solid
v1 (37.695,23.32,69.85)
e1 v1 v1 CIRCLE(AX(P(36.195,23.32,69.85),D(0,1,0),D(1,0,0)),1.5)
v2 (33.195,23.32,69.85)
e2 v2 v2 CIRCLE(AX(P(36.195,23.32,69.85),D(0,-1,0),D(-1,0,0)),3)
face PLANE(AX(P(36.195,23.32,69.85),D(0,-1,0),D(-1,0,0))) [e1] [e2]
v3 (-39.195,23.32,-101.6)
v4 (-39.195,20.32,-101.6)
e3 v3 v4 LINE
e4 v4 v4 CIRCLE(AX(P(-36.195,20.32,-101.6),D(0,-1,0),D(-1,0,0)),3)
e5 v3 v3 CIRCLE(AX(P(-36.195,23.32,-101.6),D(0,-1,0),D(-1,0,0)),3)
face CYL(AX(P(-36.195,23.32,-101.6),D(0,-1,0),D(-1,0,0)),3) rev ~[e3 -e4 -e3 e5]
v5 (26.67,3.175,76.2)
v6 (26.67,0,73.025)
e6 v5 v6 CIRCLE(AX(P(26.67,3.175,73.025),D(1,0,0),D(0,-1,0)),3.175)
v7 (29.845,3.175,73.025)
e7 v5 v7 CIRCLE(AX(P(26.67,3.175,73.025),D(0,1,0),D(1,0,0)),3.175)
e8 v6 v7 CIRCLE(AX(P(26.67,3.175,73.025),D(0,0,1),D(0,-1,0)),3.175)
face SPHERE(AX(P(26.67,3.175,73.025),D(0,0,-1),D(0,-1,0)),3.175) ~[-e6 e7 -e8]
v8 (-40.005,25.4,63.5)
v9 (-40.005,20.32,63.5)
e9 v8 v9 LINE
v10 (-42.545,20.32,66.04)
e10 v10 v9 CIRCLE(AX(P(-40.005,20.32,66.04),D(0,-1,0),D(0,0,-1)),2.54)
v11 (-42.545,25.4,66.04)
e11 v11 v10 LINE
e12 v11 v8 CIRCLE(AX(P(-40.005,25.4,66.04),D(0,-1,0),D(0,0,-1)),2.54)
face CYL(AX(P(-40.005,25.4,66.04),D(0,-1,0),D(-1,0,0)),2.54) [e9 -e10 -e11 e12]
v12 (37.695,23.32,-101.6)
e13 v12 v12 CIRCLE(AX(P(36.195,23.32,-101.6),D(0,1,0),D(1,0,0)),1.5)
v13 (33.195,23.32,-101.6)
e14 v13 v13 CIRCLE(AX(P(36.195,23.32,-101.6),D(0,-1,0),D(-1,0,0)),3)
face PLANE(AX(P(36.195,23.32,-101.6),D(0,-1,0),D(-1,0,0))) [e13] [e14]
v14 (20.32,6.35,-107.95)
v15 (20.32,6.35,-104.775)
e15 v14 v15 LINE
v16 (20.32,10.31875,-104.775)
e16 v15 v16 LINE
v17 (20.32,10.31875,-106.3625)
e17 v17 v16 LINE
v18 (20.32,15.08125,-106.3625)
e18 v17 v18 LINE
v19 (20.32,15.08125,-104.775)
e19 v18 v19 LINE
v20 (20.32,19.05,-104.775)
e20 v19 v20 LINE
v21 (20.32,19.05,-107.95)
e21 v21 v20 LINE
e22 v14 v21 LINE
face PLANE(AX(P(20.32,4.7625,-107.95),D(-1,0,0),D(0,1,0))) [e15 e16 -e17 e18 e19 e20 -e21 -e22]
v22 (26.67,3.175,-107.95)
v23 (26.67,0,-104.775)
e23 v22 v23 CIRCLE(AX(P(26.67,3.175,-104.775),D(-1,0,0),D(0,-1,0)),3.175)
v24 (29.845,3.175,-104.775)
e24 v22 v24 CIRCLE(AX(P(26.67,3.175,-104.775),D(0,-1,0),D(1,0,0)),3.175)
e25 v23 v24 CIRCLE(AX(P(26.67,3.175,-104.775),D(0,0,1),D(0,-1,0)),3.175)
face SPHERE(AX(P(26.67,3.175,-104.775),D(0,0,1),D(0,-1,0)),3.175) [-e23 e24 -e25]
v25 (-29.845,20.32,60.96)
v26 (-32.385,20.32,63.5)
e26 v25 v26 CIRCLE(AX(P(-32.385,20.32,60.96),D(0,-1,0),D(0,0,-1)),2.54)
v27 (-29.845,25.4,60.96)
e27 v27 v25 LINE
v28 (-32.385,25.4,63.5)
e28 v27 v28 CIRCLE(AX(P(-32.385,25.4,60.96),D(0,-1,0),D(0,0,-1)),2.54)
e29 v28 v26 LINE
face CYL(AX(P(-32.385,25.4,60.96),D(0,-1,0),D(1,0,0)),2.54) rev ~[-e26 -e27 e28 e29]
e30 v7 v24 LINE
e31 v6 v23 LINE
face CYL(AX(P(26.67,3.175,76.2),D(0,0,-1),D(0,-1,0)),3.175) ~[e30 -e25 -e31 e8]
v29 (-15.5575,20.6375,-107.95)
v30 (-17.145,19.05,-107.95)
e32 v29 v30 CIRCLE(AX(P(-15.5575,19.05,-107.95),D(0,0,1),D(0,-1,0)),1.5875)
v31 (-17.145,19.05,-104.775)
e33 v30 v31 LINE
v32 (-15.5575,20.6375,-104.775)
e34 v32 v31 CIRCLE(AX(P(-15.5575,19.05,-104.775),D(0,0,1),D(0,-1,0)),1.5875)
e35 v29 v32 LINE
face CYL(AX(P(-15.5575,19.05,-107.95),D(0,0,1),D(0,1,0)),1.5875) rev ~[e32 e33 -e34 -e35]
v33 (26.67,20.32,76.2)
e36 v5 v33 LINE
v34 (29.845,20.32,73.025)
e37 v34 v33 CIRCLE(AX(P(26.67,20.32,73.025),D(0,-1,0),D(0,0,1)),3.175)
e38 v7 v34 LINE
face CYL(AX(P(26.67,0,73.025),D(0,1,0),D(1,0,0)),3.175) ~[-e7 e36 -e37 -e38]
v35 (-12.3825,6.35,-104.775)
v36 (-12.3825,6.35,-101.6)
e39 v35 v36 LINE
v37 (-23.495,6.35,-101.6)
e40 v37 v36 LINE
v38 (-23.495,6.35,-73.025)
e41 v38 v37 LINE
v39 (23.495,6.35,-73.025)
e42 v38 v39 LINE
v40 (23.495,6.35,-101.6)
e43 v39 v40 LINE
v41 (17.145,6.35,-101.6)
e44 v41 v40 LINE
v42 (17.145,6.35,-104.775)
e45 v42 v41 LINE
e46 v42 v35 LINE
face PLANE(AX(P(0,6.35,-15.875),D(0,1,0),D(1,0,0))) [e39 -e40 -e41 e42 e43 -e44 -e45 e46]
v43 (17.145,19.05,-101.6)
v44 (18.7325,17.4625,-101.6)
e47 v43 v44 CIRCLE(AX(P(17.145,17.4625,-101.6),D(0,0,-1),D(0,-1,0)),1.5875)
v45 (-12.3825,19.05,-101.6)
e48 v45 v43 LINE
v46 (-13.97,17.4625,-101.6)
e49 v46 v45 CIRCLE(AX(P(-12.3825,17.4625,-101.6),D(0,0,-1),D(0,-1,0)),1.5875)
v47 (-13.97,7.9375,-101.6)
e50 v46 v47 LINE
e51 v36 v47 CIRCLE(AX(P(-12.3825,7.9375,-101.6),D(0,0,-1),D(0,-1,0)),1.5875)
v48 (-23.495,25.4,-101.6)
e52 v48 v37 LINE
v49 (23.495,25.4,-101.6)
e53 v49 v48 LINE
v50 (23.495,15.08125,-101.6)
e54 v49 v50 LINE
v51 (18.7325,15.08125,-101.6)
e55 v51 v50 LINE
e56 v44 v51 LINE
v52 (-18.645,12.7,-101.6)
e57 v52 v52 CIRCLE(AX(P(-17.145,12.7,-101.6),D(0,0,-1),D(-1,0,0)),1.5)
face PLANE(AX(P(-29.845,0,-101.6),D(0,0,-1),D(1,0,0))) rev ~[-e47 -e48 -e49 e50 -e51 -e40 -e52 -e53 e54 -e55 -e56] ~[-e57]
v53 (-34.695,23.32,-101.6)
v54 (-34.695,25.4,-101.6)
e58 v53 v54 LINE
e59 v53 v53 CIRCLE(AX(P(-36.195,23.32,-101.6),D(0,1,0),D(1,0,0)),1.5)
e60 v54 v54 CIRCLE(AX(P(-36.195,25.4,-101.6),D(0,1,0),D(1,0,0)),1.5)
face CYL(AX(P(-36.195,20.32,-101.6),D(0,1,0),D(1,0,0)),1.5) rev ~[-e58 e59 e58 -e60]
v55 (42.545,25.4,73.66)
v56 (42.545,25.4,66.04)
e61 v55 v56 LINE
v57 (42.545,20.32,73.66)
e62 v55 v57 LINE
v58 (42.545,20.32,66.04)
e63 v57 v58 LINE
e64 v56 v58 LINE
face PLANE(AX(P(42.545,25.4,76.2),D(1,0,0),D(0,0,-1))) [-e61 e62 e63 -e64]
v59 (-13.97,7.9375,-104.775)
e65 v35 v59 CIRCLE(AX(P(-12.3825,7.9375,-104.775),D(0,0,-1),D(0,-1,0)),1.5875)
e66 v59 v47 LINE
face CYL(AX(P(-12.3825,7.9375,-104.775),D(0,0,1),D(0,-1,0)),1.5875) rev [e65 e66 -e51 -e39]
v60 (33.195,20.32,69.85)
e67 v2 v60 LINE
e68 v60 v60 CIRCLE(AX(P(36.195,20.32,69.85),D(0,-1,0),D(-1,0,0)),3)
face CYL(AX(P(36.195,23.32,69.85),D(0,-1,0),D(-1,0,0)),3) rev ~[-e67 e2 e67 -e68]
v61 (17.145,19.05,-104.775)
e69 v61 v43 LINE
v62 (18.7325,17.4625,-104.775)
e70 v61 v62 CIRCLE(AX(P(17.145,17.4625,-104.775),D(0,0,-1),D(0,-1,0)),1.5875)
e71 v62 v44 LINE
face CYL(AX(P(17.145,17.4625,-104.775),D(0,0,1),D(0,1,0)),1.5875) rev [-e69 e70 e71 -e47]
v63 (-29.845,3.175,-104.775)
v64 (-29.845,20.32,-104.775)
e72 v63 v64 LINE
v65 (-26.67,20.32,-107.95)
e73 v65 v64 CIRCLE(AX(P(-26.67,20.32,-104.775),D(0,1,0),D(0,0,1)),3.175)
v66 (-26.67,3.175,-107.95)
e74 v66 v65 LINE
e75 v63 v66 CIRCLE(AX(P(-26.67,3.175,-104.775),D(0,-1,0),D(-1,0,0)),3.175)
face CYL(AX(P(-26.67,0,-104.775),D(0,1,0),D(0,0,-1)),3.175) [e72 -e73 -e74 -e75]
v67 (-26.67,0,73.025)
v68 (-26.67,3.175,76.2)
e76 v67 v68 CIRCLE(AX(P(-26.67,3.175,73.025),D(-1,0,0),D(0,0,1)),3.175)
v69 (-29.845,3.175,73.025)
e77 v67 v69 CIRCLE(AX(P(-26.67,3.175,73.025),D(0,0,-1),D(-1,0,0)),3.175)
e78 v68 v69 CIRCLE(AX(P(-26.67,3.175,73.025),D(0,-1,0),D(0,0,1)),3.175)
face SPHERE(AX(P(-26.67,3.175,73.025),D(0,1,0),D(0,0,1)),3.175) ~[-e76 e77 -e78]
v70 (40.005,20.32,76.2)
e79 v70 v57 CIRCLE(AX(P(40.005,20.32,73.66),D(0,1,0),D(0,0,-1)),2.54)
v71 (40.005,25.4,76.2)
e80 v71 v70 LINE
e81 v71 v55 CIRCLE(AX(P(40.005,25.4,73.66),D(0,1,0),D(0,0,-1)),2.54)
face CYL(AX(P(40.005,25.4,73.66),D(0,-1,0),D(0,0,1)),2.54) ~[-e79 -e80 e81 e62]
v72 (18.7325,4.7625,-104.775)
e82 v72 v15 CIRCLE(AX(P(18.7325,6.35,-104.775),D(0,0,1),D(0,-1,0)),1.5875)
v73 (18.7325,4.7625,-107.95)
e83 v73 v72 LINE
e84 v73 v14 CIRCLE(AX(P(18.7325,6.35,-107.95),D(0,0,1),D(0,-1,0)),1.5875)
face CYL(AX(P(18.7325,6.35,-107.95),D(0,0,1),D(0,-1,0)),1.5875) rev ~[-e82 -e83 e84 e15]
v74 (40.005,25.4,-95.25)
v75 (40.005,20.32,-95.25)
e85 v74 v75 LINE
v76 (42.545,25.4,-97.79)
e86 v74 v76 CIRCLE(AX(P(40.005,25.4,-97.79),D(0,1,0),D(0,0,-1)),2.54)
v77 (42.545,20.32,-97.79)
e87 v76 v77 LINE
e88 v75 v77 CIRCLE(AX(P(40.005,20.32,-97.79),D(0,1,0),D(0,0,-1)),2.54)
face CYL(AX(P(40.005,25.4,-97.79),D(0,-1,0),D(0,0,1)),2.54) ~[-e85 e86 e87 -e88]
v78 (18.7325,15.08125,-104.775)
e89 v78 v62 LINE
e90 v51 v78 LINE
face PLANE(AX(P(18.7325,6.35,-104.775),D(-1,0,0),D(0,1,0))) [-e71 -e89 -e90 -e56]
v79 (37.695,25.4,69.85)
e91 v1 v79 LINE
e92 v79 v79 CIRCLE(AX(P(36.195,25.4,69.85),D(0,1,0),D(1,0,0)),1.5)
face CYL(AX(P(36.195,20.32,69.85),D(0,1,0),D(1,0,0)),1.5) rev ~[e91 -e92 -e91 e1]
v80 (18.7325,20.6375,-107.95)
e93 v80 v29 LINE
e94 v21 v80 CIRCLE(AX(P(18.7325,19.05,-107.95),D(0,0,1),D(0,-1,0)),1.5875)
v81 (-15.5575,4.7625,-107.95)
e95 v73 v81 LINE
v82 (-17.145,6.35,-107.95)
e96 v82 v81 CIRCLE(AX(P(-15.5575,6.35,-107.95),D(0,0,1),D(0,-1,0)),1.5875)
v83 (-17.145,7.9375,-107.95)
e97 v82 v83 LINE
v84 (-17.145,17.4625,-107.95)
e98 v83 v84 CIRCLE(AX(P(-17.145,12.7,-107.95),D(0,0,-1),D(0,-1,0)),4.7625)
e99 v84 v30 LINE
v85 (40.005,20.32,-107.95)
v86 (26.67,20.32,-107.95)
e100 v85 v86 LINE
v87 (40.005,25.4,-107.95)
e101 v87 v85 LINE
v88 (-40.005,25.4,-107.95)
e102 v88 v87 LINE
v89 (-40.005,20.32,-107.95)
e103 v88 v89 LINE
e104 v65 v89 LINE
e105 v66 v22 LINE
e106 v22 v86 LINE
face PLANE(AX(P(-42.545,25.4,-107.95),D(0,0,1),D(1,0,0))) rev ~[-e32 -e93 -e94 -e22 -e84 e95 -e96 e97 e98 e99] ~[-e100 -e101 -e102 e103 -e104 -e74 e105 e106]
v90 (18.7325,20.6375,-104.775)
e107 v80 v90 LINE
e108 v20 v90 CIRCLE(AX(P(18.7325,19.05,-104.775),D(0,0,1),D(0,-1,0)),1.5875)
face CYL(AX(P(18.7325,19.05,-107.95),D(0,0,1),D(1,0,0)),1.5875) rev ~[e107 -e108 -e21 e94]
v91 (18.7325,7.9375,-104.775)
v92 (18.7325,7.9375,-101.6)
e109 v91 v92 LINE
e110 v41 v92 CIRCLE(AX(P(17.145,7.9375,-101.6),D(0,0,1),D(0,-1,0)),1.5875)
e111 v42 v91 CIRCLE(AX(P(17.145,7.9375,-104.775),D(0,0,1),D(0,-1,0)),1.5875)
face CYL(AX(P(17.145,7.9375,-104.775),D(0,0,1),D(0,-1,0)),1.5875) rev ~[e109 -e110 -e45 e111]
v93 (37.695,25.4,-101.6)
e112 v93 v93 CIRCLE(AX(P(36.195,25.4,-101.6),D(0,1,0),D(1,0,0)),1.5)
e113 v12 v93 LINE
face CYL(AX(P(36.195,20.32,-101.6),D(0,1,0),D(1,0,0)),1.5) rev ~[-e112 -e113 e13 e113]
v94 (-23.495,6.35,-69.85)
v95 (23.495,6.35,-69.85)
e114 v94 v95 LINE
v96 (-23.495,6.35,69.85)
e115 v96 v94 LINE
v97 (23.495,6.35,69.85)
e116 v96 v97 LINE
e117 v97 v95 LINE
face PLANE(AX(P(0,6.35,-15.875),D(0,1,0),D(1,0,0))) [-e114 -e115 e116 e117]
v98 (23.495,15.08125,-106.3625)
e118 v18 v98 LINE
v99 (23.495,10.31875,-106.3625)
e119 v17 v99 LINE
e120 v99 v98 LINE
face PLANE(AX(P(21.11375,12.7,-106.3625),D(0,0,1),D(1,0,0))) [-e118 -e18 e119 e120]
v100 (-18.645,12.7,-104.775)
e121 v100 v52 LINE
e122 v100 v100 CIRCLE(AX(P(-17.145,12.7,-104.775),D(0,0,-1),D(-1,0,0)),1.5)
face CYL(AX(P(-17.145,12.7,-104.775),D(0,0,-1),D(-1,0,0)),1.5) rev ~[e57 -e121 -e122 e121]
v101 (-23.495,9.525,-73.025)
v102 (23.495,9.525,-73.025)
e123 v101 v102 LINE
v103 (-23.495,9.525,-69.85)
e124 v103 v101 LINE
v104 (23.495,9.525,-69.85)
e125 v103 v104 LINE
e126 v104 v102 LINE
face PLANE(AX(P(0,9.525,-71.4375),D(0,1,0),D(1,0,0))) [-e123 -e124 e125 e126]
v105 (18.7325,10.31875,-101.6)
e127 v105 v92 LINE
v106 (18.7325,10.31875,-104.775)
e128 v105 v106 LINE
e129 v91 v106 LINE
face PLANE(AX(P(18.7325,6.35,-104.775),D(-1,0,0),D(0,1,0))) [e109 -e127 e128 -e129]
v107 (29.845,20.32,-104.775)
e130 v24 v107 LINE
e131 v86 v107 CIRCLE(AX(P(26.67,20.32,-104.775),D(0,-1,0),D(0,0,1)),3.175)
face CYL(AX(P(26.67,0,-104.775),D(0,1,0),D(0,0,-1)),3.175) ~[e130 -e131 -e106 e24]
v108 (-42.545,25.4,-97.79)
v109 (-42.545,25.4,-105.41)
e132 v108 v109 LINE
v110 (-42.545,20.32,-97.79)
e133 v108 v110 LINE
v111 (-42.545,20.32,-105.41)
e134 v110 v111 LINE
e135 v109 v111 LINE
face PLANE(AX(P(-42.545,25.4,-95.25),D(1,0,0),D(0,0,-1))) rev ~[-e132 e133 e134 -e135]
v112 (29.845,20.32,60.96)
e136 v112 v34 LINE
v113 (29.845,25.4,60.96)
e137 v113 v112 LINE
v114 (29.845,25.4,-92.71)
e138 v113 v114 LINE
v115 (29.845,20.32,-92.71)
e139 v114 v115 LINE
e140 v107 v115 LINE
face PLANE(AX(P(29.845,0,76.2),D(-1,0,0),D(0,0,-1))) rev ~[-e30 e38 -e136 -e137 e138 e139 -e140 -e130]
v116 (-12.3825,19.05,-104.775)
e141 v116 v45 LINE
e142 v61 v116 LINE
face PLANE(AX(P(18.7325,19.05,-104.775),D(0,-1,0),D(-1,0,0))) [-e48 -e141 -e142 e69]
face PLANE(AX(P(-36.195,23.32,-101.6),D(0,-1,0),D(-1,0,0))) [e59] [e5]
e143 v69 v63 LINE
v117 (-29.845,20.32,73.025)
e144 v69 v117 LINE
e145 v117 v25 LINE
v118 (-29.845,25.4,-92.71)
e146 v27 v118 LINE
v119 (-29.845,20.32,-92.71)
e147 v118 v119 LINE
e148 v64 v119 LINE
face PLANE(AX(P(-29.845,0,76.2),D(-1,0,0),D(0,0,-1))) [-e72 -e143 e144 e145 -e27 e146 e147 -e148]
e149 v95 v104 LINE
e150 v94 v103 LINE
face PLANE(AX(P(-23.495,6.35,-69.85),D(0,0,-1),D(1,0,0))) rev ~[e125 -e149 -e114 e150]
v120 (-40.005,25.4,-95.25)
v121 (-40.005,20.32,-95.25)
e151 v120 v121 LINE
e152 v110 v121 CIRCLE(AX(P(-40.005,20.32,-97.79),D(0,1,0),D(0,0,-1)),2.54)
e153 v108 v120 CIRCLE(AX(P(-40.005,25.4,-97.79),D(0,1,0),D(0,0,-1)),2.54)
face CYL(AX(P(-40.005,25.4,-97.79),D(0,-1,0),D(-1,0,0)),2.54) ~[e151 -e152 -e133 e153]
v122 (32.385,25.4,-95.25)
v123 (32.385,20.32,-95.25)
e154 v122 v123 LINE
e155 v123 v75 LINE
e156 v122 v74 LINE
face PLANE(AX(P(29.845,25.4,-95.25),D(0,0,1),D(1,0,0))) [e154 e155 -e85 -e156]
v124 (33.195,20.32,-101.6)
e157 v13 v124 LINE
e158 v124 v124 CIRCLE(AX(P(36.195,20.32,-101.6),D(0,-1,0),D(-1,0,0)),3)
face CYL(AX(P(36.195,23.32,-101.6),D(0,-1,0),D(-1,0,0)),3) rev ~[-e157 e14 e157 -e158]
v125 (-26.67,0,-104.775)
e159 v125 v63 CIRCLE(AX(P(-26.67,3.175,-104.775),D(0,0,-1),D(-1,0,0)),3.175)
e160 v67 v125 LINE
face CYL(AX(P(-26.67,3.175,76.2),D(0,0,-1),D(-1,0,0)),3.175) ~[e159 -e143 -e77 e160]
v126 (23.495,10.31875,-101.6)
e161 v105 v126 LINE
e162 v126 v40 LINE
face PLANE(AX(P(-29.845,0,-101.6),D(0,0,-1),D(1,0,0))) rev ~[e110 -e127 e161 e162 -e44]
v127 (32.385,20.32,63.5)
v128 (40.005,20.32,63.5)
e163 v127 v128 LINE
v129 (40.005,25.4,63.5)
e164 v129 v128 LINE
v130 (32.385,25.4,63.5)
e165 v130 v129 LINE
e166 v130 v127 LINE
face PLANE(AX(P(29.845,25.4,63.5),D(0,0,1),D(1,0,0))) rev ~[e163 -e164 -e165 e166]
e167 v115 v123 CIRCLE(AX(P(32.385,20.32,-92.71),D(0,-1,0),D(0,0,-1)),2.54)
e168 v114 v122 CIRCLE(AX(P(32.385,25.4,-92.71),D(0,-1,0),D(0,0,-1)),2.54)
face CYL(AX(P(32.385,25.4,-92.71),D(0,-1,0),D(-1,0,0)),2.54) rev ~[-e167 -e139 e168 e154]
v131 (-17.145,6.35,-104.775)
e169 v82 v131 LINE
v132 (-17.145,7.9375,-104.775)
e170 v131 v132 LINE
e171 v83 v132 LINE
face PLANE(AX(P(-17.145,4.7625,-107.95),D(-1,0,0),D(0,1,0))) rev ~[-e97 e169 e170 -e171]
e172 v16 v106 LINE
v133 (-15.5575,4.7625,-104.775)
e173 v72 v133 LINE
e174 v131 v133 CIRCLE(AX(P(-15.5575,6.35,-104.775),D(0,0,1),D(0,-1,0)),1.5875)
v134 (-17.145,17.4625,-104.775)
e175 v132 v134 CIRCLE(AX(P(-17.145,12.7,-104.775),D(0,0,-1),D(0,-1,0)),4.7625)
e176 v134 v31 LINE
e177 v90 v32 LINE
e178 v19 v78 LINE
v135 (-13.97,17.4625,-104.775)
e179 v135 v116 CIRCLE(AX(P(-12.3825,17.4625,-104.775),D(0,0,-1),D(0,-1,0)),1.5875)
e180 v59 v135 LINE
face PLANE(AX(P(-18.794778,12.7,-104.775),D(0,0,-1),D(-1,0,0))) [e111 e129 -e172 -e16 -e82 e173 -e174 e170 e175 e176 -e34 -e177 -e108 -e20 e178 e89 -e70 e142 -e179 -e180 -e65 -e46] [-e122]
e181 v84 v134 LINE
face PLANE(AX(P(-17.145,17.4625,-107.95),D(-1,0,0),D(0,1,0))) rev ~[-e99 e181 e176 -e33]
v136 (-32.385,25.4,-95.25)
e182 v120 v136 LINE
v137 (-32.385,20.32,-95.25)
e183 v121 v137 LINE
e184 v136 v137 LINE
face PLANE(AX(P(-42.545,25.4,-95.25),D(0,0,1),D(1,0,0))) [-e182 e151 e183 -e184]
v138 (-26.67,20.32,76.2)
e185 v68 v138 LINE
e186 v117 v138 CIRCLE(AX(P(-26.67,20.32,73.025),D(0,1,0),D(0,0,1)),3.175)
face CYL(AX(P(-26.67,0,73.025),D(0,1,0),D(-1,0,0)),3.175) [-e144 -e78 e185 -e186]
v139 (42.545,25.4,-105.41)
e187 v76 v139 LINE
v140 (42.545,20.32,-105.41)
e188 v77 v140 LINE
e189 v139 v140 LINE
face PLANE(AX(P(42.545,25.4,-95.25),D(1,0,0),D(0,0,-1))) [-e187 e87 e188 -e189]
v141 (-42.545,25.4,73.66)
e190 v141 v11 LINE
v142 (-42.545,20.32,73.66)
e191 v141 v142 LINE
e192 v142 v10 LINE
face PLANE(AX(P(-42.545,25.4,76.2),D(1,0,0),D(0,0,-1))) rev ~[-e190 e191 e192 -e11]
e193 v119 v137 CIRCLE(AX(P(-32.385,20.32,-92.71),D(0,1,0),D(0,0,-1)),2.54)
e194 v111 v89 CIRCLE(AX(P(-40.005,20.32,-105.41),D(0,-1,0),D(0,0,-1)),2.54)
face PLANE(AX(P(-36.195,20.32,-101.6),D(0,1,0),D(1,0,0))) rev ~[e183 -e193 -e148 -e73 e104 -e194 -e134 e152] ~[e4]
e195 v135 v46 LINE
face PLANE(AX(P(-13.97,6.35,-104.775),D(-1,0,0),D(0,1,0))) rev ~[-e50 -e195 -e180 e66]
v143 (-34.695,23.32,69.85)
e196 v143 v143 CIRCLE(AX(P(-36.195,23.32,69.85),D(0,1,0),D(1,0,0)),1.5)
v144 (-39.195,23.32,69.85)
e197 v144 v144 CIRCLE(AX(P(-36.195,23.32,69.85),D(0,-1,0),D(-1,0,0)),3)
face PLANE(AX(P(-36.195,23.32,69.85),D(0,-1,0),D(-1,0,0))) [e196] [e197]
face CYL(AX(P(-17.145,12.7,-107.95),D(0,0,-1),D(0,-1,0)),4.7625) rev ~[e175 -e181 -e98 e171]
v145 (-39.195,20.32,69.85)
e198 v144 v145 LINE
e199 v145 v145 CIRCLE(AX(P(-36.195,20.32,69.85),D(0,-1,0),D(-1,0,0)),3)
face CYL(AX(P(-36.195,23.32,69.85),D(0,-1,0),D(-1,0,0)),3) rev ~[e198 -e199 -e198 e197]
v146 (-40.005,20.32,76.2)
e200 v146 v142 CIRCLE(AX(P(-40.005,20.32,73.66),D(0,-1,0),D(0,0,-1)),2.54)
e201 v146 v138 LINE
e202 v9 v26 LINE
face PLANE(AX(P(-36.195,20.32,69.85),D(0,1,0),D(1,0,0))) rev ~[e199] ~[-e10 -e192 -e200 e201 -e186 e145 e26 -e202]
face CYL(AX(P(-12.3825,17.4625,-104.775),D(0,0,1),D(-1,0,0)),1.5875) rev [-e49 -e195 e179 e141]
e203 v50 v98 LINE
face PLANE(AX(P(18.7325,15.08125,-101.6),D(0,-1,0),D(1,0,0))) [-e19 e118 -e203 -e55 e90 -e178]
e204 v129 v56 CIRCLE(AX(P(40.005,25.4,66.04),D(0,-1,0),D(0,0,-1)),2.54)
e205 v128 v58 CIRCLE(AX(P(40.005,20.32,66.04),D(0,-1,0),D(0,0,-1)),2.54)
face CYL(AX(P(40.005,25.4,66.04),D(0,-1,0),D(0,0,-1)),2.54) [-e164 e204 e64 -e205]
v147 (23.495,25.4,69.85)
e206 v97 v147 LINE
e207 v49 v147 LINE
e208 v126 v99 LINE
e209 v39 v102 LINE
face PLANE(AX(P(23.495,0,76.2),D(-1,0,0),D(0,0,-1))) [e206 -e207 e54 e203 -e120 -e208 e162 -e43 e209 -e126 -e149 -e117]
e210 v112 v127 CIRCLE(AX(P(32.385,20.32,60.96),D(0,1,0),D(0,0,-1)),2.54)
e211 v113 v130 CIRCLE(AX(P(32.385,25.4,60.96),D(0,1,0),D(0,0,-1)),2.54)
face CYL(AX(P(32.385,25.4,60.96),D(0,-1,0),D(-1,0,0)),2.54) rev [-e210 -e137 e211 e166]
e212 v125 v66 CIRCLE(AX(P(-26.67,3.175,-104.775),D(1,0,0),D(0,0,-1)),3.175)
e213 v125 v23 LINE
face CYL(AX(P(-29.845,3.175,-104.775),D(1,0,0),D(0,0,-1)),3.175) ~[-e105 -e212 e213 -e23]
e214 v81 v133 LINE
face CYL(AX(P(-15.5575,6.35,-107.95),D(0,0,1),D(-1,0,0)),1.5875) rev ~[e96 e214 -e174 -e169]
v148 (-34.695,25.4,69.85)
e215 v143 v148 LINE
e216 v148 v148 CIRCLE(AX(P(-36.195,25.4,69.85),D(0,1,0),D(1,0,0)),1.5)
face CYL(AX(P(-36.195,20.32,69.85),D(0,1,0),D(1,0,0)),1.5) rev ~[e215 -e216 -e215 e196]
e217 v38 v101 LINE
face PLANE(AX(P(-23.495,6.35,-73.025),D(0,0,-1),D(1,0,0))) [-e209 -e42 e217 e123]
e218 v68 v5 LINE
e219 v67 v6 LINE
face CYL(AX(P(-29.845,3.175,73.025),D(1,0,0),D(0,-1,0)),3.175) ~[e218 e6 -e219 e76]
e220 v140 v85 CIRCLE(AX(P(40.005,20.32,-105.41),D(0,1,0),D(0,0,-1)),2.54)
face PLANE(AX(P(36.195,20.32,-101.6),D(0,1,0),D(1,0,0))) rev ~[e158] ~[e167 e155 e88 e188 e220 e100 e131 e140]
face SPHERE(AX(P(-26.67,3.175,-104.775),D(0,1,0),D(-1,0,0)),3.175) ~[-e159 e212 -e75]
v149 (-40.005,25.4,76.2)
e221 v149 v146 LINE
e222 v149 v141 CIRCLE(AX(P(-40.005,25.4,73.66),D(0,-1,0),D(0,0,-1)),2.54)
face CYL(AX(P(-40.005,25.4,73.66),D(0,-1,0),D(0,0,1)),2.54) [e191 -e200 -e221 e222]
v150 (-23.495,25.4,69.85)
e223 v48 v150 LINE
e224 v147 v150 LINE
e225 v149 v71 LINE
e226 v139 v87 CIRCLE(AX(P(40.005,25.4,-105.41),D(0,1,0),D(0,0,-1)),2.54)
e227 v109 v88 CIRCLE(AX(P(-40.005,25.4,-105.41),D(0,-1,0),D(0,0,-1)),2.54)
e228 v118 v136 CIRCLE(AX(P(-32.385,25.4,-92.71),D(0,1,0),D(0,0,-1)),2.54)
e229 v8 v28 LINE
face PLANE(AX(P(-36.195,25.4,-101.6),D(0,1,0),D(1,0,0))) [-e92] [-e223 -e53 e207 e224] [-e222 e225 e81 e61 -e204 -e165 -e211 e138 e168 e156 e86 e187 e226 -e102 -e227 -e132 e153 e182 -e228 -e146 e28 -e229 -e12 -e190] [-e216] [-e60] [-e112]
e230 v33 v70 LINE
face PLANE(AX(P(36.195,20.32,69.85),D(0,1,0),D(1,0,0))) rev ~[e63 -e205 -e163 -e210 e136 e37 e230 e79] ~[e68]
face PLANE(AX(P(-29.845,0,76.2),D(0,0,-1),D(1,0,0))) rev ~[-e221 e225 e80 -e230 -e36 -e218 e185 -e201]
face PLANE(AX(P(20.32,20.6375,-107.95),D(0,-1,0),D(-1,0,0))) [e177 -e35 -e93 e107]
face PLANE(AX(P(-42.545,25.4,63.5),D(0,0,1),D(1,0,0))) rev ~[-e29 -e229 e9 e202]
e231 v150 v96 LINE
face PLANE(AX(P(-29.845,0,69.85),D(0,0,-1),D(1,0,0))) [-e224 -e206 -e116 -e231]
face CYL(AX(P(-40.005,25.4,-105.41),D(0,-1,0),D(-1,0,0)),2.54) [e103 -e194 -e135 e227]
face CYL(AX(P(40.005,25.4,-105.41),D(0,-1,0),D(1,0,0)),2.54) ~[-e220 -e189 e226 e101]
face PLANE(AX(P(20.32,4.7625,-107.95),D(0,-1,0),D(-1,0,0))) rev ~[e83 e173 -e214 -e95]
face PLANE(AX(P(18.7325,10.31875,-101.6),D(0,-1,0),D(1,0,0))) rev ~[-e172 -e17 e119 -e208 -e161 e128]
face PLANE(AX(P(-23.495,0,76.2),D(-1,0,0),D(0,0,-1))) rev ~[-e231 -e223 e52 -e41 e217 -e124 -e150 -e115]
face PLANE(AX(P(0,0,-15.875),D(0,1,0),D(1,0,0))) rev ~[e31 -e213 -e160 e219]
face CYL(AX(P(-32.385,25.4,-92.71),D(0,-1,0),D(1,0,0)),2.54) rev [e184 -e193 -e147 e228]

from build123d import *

# Parameters (mm, degrees)
SKETCH1_W                                           = 59.69
SKETCH1_H                                           = 184.15
BOSS_EXTRUDE1_DEPTH                                 = 25.4
SHELL1_T                                            = -6.35
SKETCH2_W                                           = 46.99
SKETCH2_H                                           = 3.175
BOSS_EXTRUDE2_DEPTH                                 = 3.175
SKETCH3_W                                           = 12.7
SKETCH3_H                                           = 12.7
BOSS_EXTRUDE3_DEPTH                                 = 5.08
FILLET1_R                                           = 2.54
CBORE_FOR_00_BINDING_HEAD_MACHINE_SCREW_D           = 3.000000096
CBORE_FOR_00_BINDING_HEAD_MACHINE_SCREW_CBORE_D     = 5.999999938
CBORE_FOR_00_BINDING_HEAD_MACHINE_SCREW_CBORE_DEPTH = 3.000000096
SKETCH8_W                                           = 37.465
SKETCH8_H                                           = 15.875
CUT_EXTRUDE1_DEPTH                                  = 3.175
CUT_EXTRUDE2_REACH                                  = 189.636
SKETCH9_R                                           = 1.5
SKETCH9_W                                           = 32.7025
SKETCH9_H                                           = 12.7
FILLET2_R                                           = 1.5875
SKETCH10_W                                          = 4.7625
SKETCH10_H                                          = 4.7625
CUT_EXTRUDE3_DEPTH                                  = 4.7625
FILLET4_R                                           = 3.175


with BuildPart() as part:
    # Sketch1 → Boss-Extrude1 (new body)
    with BuildSketch(Plane(origin=(0, 0, 0), x_dir=(1, 0, 0), z_dir=(0, 1, 0))):
        with Locations((0, 15.875)):
            Rectangle(SKETCH1_W, SKETCH1_H)
    extrude(amount=BOSS_EXTRUDE1_DEPTH)

    # Shell1
    shell1_openings = [part.faces().sort_by_distance(p)[0] for p in [
        (0, 25.4, -15.875),
    ]]
    offset(amount=SHELL1_T, openings=shell1_openings, kind=Kind.INTERSECTION)

    # Sketch2 → Boss-Extrude2 (add)
    with BuildSketch(Plane(origin=(0, 6.35, 0), x_dir=(1, 0, 0), z_dir=(0, 1, 0))):
        with Locations((0, 71.4375)):
            Rectangle(SKETCH2_W, SKETCH2_H)
    extrude(amount=BOSS_EXTRUDE2_DEPTH)

    # Sketch3 → Boss-Extrude3 (add)
    with BuildSketch(Plane(origin=(0, 25.4, 0), x_dir=(1, 0, 0), z_dir=(0, 1, 0))):
        with Locations((-36.195, 101.6)):
            Rectangle(SKETCH3_W, SKETCH3_H)
        with Locations((-36.195, -69.85)):
            Rectangle(SKETCH3_W, SKETCH3_H)
        with Locations((36.195, -69.85)):
            Rectangle(SKETCH3_W, SKETCH3_H)
        with Locations((36.195, 101.6)):
            Rectangle(SKETCH3_W, SKETCH3_H)
    extrude(amount=-BOSS_EXTRUDE3_DEPTH)

    # Fillet1
    fillet1_edges = [part.edges().sort_by_distance(p)[0] for p in [
        (-29.845, 22.86, -95.25),
        (-42.545, 22.86, -95.25),
        (-42.545, 22.86, -107.95),
        (-29.845, 22.86, 63.5),
        (-42.545, 22.86, 76.2),
        (-42.545, 22.86, 63.5),
        (42.545, 22.86, 76.2),
        (29.845, 22.86, 63.5),
        (42.545, 22.86, 63.5),
        (42.545, 22.86, -107.95),
        (42.545, 22.86, -95.25),
        (29.845, 22.86, -95.25),
    ]]
    fillet(fillet1_edges, radius=FILLET1_R)

    # CBORE for #00 Binding Head Machine Screw1 (through all)
    with Locations(Plane(origin=(0, 20.32, 0), x_dir=(-1, 0, 0), z_dir=(0, -1, 0))):
        with Locations((-36.195, -69.85), (36.195, -69.85), (36.195, 101.6), (-36.195, 101.6)):
            CounterBoreHole(CBORE_FOR_00_BINDING_HEAD_MACHINE_SCREW_D / 2, CBORE_FOR_00_BINDING_HEAD_MACHINE_SCREW_CBORE_D / 2, CBORE_FOR_00_BINDING_HEAD_MACHINE_SCREW_CBORE_DEPTH)

    # Sketch8 → Cut-Extrude1 (cut)
    with BuildSketch(Plane(origin=(0, 0, -107.95), x_dir=(-1, 0, 0), z_dir=(0, 0, -1))):
        with BuildLine():
            ThreePointArc((17.145, 7.9375), (21.9075, 12.7), (17.145, 17.4625))
            Line((17.145, 17.4625), (17.145, 7.9375))
        make_face()
        with Locations((-1.5875, 12.7)):
            Rectangle(SKETCH8_W, SKETCH8_H)
    extrude(amount=-CUT_EXTRUDE1_DEPTH, mode=Mode.SUBTRACT)

    # Sketch9 → Cut-Extrude2 (cut, up to next)
    with BuildSketch(Plane(origin=(0, 0, -104.775), x_dir=(-1, 0, 0), z_dir=(0, 0, -1)), mode=Mode.PRIVATE) as cut_extrude2_sk1:
        with Locations((17.145, 12.7)):
            Circle(SKETCH9_R)
    cut_extrude2_tool1 = extrude(cut_extrude2_sk1.sketch, amount=-CUT_EXTRUDE2_REACH, mode=Mode.PRIVATE) & part.part
    # Sketch9 → Cut-Extrude2 (cut, up to next)
    with BuildSketch(Plane(origin=(0, 0, -104.775), x_dir=(-1, 0, 0), z_dir=(0, 0, -1)), mode=Mode.PRIVATE) as cut_extrude2_sk2:
        with Locations((-2.38125, 12.7)):
            Rectangle(SKETCH9_W, SKETCH9_H)
    cut_extrude2_tool2 = extrude(cut_extrude2_sk2.sketch, amount=-CUT_EXTRUDE2_REACH, mode=Mode.PRIVATE) & part.part
    add(cut_extrude2_tool1.solids().sort_by_distance((-17.145, 12.7, -104.775))[0], mode=Mode.SUBTRACT)
    add(cut_extrude2_tool2.solids().sort_by_distance((2.38125, 12.7, -104.775))[0], mode=Mode.SUBTRACT)

    # Fillet2
    fillet2_edges = [part.edges().sort_by_distance(p)[0] for p in [
        (-17.145, 4.7625, -106.3625),
        (20.32, 4.7625, -106.3625),
        (20.32, 20.6375, -106.3625),
        (-17.145, 20.6375, -106.3625),
        (18.7325, 19.05, -103.1875),
        (18.7325, 6.35, -103.1875),
        (-13.97, 6.35, -103.1875),
        (-13.97, 19.05, -103.1875),
    ]]
    fillet(fillet2_edges, radius=FILLET2_R)

    # Sketch10 → Cut-Extrude3 (cut)
    with BuildSketch(Plane.XY.offset(-101.6)):
        with Locations((21.11375, 12.7)):
            Rectangle(SKETCH10_W, SKETCH10_H)
    extrude(amount=-CUT_EXTRUDE3_DEPTH, mode=Mode.SUBTRACT)

    # Fillet4
    fillet4_edges = [part.edges().sort_by_distance(p)[0] for p in [
        (-29.845, 10.16, -107.95),
        (-29.845, 10.16, 76.2),
        (29.845, 0, -15.875),
        (0, 0, 76.2),
        (29.845, 10.16, 76.2),
        (-29.845, 0, -15.875),
        (0, 0, -107.95),
        (29.845, 10.16, -107.95),
    ]]
    fillet(fillet4_edges, radius=FILLET4_R)


solid = part.part
